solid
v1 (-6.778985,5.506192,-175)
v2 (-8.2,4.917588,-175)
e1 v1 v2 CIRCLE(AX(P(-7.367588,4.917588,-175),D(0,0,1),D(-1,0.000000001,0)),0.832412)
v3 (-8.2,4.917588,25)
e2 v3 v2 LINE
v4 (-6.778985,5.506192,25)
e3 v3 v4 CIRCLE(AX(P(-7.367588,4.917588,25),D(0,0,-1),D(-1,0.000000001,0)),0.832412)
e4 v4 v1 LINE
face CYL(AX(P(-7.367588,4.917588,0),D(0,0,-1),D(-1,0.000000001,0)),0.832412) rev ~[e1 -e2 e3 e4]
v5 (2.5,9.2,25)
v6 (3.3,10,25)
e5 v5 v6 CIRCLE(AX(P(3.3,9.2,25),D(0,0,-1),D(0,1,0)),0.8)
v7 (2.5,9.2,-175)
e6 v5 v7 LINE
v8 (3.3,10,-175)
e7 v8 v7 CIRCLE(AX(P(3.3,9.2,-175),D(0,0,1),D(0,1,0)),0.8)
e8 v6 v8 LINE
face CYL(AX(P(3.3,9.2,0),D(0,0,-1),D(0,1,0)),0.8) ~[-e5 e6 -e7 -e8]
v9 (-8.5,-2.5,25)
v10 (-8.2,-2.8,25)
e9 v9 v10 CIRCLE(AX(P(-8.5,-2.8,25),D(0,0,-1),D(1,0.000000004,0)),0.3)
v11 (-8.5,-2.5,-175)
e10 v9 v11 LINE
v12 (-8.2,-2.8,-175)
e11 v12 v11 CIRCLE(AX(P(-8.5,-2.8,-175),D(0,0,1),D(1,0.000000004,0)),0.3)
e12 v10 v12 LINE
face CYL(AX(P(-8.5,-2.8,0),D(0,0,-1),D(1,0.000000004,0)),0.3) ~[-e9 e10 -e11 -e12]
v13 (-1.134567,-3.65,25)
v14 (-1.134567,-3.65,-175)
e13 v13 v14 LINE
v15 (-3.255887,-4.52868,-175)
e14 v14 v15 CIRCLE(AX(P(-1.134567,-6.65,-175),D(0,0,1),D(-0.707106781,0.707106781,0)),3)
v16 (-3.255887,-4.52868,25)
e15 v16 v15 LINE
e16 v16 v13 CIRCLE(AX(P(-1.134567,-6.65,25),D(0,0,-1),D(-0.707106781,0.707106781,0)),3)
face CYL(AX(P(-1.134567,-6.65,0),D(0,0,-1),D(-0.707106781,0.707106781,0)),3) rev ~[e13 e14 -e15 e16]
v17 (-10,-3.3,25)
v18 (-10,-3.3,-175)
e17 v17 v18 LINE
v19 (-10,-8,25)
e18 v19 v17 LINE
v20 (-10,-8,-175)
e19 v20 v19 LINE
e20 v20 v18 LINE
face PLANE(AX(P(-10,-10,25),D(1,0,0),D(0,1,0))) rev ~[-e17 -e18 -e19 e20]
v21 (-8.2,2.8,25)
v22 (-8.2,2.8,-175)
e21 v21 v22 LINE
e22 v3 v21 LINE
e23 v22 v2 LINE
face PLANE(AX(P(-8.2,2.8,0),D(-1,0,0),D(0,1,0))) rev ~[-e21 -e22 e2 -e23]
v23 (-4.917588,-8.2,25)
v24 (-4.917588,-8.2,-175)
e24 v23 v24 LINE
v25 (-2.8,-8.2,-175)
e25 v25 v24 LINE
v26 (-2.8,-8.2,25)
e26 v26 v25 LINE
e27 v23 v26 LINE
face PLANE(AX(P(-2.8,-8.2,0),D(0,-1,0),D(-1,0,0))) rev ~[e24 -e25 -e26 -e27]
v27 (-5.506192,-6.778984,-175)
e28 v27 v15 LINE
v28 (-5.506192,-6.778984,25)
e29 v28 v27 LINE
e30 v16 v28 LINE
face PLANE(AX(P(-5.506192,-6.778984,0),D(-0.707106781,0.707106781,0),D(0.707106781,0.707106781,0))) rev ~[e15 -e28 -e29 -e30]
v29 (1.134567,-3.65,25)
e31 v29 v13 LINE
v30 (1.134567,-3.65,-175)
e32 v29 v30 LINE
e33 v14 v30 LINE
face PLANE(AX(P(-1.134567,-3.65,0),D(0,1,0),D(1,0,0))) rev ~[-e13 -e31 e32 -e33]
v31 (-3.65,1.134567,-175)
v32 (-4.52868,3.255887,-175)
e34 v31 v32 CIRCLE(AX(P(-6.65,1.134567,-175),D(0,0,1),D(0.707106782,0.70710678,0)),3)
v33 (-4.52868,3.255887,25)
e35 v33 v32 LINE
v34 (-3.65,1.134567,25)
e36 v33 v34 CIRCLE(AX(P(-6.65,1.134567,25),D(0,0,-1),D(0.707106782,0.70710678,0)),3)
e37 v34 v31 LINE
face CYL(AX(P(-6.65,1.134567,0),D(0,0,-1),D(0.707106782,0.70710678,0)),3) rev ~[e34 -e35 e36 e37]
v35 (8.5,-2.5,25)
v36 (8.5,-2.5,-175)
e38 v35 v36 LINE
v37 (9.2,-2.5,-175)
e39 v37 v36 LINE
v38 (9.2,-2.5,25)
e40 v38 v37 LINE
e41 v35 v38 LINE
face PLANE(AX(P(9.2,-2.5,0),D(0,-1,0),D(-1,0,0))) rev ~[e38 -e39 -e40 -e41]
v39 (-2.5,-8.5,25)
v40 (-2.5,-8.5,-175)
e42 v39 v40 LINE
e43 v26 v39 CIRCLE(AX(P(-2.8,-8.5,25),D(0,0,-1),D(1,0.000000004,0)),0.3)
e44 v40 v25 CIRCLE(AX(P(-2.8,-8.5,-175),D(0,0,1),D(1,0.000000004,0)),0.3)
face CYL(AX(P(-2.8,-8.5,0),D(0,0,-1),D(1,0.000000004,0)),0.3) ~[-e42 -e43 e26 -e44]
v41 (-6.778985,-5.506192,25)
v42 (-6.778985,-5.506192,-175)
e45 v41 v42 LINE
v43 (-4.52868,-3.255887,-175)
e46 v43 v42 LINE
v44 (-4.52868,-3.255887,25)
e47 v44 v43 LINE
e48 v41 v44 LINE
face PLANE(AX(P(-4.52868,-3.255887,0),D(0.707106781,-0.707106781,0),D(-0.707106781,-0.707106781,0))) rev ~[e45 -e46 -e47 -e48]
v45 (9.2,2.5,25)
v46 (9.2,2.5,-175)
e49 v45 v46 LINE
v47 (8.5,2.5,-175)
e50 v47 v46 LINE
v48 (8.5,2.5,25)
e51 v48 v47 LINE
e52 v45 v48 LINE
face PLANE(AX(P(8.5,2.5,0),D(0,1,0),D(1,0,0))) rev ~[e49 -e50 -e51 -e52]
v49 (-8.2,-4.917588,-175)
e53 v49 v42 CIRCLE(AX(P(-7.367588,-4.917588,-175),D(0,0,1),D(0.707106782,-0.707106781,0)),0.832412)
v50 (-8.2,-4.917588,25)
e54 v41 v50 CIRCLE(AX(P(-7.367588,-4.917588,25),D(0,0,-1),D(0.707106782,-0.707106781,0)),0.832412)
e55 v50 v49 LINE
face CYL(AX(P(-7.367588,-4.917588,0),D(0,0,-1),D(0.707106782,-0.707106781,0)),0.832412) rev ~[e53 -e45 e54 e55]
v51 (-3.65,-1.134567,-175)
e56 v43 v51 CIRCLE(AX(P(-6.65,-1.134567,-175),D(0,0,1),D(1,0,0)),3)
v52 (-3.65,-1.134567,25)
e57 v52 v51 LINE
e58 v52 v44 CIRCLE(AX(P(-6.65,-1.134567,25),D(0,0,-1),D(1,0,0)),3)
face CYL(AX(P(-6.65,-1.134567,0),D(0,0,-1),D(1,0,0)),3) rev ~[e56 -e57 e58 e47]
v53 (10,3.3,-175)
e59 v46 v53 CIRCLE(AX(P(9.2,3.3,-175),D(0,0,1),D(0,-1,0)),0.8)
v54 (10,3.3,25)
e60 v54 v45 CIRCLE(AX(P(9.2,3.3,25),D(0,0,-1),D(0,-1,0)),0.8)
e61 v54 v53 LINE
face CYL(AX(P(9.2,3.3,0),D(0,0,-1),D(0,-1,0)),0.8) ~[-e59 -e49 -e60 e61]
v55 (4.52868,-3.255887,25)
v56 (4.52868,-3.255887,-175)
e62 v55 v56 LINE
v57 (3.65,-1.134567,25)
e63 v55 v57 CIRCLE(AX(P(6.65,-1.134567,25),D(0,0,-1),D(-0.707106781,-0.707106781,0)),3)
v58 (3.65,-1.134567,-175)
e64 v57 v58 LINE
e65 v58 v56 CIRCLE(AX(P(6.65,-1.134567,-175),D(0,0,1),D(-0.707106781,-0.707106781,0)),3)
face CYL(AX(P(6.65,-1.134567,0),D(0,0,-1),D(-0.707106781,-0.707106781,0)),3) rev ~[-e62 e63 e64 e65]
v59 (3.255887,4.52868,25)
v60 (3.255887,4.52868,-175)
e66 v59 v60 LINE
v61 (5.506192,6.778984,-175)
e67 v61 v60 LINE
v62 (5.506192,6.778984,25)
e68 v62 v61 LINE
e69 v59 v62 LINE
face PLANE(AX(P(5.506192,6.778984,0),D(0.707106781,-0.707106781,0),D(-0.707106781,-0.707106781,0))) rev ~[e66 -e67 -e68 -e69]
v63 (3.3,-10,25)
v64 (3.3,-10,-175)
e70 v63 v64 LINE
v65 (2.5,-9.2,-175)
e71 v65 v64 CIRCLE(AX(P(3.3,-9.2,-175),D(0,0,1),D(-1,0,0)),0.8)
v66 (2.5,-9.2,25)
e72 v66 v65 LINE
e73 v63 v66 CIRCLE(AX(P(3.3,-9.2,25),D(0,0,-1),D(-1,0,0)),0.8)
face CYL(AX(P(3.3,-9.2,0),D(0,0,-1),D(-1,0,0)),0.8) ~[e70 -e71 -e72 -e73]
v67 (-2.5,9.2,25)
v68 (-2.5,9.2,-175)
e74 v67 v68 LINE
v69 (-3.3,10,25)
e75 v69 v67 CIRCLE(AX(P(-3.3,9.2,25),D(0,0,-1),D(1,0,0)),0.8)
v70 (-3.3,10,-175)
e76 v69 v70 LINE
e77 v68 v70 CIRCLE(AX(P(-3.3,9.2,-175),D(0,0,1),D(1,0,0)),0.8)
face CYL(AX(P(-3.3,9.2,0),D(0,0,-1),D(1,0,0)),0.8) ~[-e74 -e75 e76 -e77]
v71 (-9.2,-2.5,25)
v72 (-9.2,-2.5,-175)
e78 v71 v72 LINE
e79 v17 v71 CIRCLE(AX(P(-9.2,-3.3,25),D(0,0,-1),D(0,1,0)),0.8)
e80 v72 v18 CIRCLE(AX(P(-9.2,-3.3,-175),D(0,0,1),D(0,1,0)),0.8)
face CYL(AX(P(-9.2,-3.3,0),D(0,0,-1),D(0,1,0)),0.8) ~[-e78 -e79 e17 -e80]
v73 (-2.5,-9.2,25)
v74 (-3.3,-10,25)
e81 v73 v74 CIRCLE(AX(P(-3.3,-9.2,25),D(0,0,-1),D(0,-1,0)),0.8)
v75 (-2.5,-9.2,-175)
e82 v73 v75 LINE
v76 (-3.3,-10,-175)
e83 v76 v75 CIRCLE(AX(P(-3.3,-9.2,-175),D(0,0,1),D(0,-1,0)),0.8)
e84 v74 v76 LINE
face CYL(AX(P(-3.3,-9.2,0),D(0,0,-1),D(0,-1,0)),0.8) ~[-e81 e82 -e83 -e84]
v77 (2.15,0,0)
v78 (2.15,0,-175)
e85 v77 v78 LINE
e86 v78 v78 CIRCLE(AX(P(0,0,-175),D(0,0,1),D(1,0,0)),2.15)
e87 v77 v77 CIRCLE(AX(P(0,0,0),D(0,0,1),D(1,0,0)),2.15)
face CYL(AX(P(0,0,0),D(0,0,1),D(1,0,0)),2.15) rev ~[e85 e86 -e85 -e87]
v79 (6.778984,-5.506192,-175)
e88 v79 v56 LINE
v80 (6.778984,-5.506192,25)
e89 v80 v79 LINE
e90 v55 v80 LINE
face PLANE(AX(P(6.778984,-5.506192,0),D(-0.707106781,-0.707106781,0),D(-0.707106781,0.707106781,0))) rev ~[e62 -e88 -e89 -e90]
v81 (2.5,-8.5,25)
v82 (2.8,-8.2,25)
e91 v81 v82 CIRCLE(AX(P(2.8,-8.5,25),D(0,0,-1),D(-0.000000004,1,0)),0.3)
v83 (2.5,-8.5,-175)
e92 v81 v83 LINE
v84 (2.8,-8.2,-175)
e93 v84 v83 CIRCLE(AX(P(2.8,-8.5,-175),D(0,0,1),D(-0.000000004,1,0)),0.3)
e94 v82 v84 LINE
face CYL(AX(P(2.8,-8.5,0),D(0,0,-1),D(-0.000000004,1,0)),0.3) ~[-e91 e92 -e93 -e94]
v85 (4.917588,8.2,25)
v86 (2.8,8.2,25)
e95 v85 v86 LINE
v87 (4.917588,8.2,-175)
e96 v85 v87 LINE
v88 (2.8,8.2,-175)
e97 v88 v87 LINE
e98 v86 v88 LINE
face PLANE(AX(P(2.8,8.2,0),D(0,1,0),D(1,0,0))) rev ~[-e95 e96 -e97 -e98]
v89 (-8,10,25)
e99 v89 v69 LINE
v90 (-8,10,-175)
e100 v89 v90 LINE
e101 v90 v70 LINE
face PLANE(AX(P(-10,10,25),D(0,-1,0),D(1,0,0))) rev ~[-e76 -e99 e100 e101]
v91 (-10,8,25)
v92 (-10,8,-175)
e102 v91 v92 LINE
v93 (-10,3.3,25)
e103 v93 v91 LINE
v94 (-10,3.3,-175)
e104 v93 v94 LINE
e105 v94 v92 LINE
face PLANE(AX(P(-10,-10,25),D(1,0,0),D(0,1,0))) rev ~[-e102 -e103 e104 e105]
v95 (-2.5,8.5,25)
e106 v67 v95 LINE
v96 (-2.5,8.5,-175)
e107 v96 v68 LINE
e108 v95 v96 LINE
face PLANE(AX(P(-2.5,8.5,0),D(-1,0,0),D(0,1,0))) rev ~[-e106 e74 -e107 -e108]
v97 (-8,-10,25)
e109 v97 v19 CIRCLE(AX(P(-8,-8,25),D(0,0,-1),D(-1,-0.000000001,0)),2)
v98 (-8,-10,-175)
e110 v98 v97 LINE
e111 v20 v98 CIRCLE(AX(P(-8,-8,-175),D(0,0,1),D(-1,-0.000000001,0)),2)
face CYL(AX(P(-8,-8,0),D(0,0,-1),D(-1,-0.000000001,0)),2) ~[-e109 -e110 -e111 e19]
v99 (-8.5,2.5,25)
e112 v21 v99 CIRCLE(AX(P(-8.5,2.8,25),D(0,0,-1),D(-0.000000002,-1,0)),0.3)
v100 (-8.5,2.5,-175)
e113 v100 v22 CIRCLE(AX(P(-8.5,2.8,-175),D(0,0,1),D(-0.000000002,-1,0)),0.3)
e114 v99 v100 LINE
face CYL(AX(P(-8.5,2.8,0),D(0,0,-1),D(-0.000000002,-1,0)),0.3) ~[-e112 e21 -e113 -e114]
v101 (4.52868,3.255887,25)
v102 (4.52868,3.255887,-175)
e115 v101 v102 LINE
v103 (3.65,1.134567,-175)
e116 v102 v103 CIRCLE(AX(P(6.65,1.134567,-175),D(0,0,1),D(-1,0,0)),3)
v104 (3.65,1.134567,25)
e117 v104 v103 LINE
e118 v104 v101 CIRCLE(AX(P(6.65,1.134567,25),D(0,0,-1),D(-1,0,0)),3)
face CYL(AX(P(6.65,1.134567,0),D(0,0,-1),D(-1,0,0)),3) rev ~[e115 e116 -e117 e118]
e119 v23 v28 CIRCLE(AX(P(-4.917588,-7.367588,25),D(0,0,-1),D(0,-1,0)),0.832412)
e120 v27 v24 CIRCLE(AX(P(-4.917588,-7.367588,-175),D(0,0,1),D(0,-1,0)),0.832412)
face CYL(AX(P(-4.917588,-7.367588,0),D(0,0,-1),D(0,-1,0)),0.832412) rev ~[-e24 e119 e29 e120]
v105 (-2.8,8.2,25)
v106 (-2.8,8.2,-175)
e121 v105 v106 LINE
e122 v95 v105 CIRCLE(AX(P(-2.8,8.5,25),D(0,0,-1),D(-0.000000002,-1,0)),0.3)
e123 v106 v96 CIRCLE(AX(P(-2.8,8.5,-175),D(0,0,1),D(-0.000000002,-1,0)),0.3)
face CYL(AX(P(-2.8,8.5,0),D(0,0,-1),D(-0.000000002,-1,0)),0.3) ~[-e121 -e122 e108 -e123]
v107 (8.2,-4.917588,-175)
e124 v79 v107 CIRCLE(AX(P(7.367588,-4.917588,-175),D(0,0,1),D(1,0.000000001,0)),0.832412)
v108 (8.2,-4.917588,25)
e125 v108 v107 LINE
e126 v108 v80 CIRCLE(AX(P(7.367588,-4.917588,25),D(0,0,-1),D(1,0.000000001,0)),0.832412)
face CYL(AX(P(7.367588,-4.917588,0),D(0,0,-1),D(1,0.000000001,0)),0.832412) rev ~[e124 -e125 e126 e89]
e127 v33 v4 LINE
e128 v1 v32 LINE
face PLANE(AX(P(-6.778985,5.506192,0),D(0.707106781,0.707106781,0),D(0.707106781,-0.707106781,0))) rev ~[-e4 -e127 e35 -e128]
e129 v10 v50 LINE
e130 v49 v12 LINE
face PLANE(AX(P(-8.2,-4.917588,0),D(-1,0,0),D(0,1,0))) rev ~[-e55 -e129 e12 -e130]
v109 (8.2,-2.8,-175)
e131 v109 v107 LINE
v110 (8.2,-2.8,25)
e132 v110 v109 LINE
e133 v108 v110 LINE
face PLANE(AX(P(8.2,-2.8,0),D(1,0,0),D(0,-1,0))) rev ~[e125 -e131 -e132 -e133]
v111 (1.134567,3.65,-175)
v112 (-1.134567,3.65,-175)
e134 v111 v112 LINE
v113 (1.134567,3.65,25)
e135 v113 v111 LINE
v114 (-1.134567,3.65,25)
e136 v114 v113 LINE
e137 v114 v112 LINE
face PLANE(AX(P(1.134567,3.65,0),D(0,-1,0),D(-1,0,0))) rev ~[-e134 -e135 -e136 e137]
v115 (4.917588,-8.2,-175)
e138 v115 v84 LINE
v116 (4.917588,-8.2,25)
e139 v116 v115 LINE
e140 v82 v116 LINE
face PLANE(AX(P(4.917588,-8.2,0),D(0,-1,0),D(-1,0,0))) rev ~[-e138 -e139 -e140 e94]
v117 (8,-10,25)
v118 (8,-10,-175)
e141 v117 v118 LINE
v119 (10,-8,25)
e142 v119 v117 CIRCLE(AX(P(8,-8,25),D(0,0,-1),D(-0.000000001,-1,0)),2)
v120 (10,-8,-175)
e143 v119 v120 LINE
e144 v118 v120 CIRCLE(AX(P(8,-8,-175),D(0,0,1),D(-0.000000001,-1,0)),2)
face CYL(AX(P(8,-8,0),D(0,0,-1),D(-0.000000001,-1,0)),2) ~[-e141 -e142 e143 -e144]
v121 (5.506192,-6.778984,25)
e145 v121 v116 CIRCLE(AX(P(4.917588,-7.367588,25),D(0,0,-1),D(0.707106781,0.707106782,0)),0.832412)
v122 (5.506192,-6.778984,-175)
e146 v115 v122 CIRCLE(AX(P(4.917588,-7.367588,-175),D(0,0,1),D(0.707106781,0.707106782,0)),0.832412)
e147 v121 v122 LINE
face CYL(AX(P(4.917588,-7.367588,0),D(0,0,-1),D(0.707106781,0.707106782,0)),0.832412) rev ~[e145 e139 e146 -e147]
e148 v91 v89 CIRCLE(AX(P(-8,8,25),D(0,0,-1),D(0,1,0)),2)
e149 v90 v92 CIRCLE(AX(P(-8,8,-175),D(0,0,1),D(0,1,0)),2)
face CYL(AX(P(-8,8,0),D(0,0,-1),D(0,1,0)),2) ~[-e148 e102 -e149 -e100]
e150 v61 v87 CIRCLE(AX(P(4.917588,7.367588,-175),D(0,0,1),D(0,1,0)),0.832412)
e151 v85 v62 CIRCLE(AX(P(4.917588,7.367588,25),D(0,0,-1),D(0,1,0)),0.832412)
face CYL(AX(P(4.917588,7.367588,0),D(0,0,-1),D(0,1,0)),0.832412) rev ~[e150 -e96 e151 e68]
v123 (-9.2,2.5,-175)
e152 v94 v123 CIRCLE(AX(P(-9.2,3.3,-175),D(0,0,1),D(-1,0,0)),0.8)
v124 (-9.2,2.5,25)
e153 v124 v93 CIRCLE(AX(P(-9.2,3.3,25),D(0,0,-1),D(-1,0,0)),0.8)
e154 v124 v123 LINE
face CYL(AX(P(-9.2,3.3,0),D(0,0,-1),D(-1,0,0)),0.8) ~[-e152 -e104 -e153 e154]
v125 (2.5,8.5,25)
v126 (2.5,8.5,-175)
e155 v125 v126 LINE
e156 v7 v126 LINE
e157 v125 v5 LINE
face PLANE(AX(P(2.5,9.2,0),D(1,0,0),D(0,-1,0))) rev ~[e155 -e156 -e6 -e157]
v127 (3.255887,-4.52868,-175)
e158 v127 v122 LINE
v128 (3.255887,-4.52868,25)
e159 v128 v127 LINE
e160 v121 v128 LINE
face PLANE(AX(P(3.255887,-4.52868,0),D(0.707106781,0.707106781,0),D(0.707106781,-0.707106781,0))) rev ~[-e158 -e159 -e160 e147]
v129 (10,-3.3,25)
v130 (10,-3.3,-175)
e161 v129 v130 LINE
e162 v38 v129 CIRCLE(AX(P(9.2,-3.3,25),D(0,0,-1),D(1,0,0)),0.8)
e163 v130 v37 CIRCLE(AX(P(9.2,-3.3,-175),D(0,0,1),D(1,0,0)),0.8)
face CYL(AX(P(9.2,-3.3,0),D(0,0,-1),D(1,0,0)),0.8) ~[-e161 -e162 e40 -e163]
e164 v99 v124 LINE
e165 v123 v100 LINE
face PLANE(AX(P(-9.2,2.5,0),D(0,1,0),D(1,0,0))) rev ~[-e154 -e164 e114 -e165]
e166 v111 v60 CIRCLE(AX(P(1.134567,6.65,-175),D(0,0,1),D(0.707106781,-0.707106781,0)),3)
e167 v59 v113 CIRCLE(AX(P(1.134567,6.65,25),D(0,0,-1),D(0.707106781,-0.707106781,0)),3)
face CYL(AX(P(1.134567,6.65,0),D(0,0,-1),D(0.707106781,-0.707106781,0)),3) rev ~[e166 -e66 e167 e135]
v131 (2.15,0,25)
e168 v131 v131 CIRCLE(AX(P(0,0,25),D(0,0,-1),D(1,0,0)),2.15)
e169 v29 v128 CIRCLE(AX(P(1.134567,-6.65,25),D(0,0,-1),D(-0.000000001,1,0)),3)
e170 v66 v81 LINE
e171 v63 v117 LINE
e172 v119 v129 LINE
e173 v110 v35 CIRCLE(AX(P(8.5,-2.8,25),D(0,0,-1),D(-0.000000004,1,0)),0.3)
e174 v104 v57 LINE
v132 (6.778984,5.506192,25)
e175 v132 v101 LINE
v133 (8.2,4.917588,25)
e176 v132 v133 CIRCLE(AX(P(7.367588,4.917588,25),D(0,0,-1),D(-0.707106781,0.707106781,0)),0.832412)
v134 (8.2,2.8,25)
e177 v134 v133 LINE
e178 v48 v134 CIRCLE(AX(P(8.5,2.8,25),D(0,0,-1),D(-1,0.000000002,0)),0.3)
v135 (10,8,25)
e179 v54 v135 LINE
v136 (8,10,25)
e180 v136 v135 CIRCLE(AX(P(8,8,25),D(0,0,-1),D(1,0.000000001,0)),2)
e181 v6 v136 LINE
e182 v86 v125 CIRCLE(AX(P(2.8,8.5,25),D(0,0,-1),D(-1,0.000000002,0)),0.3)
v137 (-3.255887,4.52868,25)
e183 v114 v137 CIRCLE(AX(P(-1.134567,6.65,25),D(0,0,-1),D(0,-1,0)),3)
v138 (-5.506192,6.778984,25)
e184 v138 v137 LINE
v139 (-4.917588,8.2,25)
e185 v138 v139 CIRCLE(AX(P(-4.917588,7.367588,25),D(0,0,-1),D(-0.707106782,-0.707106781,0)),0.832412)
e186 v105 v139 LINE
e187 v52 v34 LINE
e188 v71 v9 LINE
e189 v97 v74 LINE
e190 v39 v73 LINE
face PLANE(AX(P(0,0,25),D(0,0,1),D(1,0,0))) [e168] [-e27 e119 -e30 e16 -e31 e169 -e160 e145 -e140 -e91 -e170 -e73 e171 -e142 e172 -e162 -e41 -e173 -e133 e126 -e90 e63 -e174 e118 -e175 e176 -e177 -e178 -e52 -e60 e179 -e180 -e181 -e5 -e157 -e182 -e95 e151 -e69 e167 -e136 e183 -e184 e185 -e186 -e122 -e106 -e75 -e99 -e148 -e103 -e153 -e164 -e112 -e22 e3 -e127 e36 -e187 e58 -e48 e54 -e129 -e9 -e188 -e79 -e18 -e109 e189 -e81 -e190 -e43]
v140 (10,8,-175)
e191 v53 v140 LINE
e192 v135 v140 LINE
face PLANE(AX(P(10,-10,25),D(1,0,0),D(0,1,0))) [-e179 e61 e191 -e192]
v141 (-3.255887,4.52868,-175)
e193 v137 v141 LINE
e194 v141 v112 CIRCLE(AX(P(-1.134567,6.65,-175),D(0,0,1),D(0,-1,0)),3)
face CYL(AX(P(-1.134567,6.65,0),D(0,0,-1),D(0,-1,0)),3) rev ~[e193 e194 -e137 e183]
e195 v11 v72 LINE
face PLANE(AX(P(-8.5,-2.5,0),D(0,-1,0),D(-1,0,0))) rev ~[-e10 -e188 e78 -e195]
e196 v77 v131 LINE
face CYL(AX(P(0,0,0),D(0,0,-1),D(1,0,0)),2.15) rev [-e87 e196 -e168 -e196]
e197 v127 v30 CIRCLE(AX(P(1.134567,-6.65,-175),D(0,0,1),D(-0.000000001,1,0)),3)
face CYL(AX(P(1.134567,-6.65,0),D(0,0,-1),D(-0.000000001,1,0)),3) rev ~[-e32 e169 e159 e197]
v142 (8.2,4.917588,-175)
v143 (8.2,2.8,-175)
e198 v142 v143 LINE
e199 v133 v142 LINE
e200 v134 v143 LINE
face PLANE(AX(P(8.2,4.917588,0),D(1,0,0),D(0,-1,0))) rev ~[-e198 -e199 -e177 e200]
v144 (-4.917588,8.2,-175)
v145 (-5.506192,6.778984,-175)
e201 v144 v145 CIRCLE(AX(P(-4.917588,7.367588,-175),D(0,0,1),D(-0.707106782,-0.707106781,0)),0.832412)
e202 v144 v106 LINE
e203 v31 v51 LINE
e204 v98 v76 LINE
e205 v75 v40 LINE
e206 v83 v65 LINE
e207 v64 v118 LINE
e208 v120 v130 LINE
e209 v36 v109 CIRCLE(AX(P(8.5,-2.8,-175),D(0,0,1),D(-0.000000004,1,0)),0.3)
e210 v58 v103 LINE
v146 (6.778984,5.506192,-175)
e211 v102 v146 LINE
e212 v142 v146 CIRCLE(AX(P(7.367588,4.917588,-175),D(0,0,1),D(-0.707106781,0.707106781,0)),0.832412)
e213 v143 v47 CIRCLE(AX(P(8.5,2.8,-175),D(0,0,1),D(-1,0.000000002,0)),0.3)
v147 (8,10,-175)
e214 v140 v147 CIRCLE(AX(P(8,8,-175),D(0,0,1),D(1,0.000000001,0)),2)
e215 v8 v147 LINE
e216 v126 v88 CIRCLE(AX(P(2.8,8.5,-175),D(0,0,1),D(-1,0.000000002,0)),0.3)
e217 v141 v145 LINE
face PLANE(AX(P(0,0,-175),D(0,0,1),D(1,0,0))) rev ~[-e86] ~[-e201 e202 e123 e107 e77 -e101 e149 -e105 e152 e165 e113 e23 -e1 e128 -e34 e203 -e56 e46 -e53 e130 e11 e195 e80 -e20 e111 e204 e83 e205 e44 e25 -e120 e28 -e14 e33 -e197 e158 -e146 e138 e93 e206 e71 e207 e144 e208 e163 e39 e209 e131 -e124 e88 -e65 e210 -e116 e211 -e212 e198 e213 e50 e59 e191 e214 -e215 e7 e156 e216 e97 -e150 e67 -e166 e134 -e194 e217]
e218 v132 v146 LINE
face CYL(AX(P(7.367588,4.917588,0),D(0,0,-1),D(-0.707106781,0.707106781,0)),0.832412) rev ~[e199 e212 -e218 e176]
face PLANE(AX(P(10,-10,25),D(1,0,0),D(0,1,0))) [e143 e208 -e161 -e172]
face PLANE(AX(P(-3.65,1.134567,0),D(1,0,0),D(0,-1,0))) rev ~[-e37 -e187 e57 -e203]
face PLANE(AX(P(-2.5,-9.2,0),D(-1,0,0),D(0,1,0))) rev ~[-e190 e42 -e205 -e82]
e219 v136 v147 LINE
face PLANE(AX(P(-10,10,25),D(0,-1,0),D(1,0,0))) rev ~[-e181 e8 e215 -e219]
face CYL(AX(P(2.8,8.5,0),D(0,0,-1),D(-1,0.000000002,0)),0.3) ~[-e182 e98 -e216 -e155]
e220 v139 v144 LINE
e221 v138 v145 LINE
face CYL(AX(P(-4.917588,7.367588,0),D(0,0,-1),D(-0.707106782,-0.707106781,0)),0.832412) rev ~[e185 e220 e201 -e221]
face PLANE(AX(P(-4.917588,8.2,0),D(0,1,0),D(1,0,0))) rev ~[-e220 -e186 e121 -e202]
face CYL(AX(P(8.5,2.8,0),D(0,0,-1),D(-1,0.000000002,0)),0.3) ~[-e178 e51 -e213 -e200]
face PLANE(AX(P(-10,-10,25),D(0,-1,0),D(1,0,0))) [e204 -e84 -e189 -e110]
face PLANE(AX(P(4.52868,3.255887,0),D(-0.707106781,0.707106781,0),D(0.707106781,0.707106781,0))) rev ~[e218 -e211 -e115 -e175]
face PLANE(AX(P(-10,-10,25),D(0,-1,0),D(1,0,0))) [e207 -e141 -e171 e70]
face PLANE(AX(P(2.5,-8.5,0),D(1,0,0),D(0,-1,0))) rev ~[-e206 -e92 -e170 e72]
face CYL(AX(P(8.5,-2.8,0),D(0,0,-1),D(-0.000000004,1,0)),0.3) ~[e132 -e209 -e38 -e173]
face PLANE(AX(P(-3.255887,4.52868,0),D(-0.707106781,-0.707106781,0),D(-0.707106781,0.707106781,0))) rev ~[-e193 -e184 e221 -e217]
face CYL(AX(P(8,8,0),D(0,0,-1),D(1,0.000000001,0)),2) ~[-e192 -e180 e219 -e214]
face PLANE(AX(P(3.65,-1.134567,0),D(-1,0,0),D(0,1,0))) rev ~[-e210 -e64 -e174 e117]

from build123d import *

# Parameters (mm, degrees)
SKETCH4_W              = 20
SKETCH4_H              = 20
BODY_DEPTH             = 200
SKETCH16_OUTSIDE_W     = 62.398
SKETCH16_OUTSIDE_H     = 62.398
SKETCH16_OUTSIDE_R     = 2.15
CUT_PROFILE_DEPTH      = 26
CUT_PROFILE_DEPTH_BACK = 176


with BuildPart() as part:
    # Sketch4 → Body (new body)
    with BuildSketch(Plane.XY.offset(25)):
        Rectangle(SKETCH4_W, SKETCH4_H)
    extrude(amount=-BODY_DEPTH)

    # Sketch16 outside → Cut-Profile (cut, two sides)
    with BuildSketch(Plane.XY) as cut_profile_sk:
        Rectangle(SKETCH16_OUTSIDE_W, SKETCH16_OUTSIDE_H)
        with BuildLine():
            Line((4.917588389, -8.199999991), (2.799999989, -8.199999991))
            ThreePointArc((2.799999989, -8.199999991), (2.587867955, -8.287867957), (2.499999989, -8.499999991))
            Line((2.499999989, -8.499999991), (2.499999989, -9.199999991))
            ThreePointArc((2.499999989, -9.199999991), (2.734314564, -9.765685416), (3.299999989, -9.999999991))
            Line((3.299999989, -9.999999991), (7.999999989, -9.999999991))
            ThreePointArc((7.999999989, -9.999999991), (9.414213552, -9.414213554), (9.999999989, -7.999999991))
            Line((9.999999989, -7.999999991), (9.999999989, -3.299999991))
            ThreePointArc((9.999999989, -3.299999991), (9.765685414, -2.734314566), (9.199999989, -2.499999991))
            Line((9.199999989, -2.499999991), (8.499999989, -2.499999991))
            ThreePointArc((8.499999989, -2.499999991), (8.287867955, -2.587867957), (8.199999989, -2.799999991))
            Line((8.199999989, -2.799999991), (8.199999989, -4.917588391))
            ThreePointArc((8.199999989, -4.917588391), (7.686138511, -5.686636441), (6.778984485, -5.506192286))
            Line((6.778984485, -5.506192286), (4.528679645, -3.255887446))
            ThreePointArc((4.528679645, -3.255887446), (3.878361392, -2.282617401), (3.64999999, -1.134567106))
            Line((3.64999999, -1.134567106), (3.64999999, 1.134567104))
            ThreePointArc((3.64999999, 1.134567104), (3.878361393, 2.282617402), (4.528679647, 3.255887448))
            Line((4.528679647, 3.255887448), (6.778984487, 5.506192288))
            ThreePointArc((6.778984487, 5.506192288), (7.686138506, 5.686636442), (8.199999981, 4.917588398))
            Line((8.199999981, 4.917588398), (8.199999981, 2.799999998))
            ThreePointArc((8.199999981, 2.799999998), (8.287867946, 2.587867964), (8.499999981, 2.499999998))
            Line((8.499999981, 2.499999998), (9.199999981, 2.499999998))
            ThreePointArc((9.199999981, 2.499999998), (9.765685406, 2.734314573), (9.999999981, 3.299999998))
            Line((9.999999981, 3.299999998), (9.999999981, 7.999999998))
            ThreePointArc((9.999999981, 7.999999998), (9.414213543, 9.41421356), (7.999999981, 9.999999998))
            Line((7.999999981, 9.999999998), (3.299999981, 9.999999998))
            ThreePointArc((3.299999981, 9.999999998), (2.734314556, 9.765685423), (2.499999981, 9.199999998))
            Line((2.499999981, 9.199999998), (2.499999981, 8.499999998))
            ThreePointArc((2.499999981, 8.499999998), (2.587867946, 8.287867964), (2.799999981, 8.199999998))
            Line((2.799999981, 8.199999998), (4.917588381, 8.199999998))
            ThreePointArc((4.917588381, 8.199999998), (5.68663643, 7.68613852), (5.506192275, 6.778984494))
            Line((5.506192275, 6.778984494), (3.255887435, 4.528679654))
            ThreePointArc((3.255887435, 4.528679654), (2.28261739, 3.878361401), (1.134567095, 3.649999999))
            Line((1.134567095, 3.649999999), (-1.134567115, 3.649999999))
            ThreePointArc((-1.134567115, 3.649999999), (-2.282617412, 3.878361401), (-3.255887459, 4.528679655))
            Line((-3.255887459, 4.528679655), (-5.506192299, 6.778984495))
            ThreePointArc((-5.506192299, 6.778984495), (-5.686636452, 7.686138515), (-4.917588409, 8.199999989))
            Line((-4.917588409, 8.199999989), (-2.800000009, 8.199999989))
            ThreePointArc((-2.800000009, 8.199999989), (-2.587867974, 8.287867955), (-2.500000009, 8.499999989))
            Line((-2.500000009, 8.499999989), (-2.500000009, 9.199999989))
            ThreePointArc((-2.500000009, 9.199999989), (-2.734314584, 9.765685414), (-3.300000009, 9.999999989))
            Line((-3.300000009, 9.999999989), (-8.000000009, 9.999999989))
            ThreePointArc((-8.000000009, 9.999999989), (-9.414213571, 9.414213552), (-10.000000009, 7.999999989))
            Line((-10.000000009, 7.999999989), (-10.000000009, 3.299999989))
            ThreePointArc((-10.000000009, 3.299999989), (-9.765685434, 2.734314564), (-9.200000009, 2.499999989))
            Line((-9.200000009, 2.499999989), (-8.500000009, 2.499999989))
            ThreePointArc((-8.500000009, 2.499999989), (-8.287867974, 2.587867955), (-8.200000009, 2.799999989))
            Line((-8.200000009, 2.799999989), (-8.200000009, 4.917588389))
            ThreePointArc((-8.200000009, 4.917588389), (-7.686138531, 5.686636438), (-6.778984504, 5.506192284))
            Line((-6.778984504, 5.506192284), (-4.528679664, 3.255887444))
            ThreePointArc((-4.528679664, 3.255887444), (-3.878361412, 2.282617399), (-3.650000009, 1.134567104))
            Line((-3.650000009, 1.134567104), (-3.650000009, -1.134567106))
            ThreePointArc((-3.650000009, -1.134567106), (-3.878361412, -2.282617404), (-4.528679666, -3.25588745))
            Line((-4.528679666, -3.25588745), (-6.778984506, -5.50619229))
            ThreePointArc((-6.778984506, -5.50619229), (-7.686138526, -5.686636444), (-8.2, -4.9175884))
            Line((-8.2, -4.9175884), (-8.2, -2.8))
            ThreePointArc((-8.2, -2.8), (-8.287867966, -2.587867966), (-8.5, -2.5))
            Line((-8.5, -2.5), (-9.2, -2.5))
            ThreePointArc((-9.2, -2.5), (-9.765685425, -2.734314575), (-10, -3.3))
            Line((-10, -3.3), (-10, -8))
            ThreePointArc((-10, -8), (-9.414213562, -9.414213562), (-8, -10))
            Line((-8, -10), (-3.3, -10))
            ThreePointArc((-3.3, -10), (-2.734314575, -9.765685425), (-2.5, -9.2))
            Line((-2.5, -9.2), (-2.5, -8.5))
            ThreePointArc((-2.5, -8.5), (-2.587867966, -8.287867966), (-2.8, -8.2))
            Line((-2.8, -8.2), (-4.9175884, -8.2))
            ThreePointArc((-4.9175884, -8.2), (-5.686636449, -7.686138522), (-5.506192294, -6.778984496))
            Line((-5.506192294, -6.778984496), (-3.255887454, -4.528679656))
            ThreePointArc((-3.255887454, -4.528679656), (-2.282617409, -3.878361403), (-1.134567114, -3.650000001))
            Line((-1.134567114, -3.650000001), (1.134567096, -3.650000001))
            ThreePointArc((1.134567096, -3.650000001), (2.282617393, -3.878361403), (3.255887439, -4.528679657))
            Line((3.255887439, -4.528679657), (5.506192279, -6.778984497))
            ThreePointArc((5.506192279, -6.778984497), (5.686636433, -7.686138517), (4.917588389, -8.199999991))
        make_face(mode=Mode.SUBTRACT)
        Circle(SKETCH16_OUTSIDE_R)
    extrude(amount=CUT_PROFILE_DEPTH, mode=Mode.SUBTRACT)
    extrude(cut_profile_sk.sketch, amount=-CUT_PROFILE_DEPTH_BACK, mode=Mode.SUBTRACT)


solid = part.part
